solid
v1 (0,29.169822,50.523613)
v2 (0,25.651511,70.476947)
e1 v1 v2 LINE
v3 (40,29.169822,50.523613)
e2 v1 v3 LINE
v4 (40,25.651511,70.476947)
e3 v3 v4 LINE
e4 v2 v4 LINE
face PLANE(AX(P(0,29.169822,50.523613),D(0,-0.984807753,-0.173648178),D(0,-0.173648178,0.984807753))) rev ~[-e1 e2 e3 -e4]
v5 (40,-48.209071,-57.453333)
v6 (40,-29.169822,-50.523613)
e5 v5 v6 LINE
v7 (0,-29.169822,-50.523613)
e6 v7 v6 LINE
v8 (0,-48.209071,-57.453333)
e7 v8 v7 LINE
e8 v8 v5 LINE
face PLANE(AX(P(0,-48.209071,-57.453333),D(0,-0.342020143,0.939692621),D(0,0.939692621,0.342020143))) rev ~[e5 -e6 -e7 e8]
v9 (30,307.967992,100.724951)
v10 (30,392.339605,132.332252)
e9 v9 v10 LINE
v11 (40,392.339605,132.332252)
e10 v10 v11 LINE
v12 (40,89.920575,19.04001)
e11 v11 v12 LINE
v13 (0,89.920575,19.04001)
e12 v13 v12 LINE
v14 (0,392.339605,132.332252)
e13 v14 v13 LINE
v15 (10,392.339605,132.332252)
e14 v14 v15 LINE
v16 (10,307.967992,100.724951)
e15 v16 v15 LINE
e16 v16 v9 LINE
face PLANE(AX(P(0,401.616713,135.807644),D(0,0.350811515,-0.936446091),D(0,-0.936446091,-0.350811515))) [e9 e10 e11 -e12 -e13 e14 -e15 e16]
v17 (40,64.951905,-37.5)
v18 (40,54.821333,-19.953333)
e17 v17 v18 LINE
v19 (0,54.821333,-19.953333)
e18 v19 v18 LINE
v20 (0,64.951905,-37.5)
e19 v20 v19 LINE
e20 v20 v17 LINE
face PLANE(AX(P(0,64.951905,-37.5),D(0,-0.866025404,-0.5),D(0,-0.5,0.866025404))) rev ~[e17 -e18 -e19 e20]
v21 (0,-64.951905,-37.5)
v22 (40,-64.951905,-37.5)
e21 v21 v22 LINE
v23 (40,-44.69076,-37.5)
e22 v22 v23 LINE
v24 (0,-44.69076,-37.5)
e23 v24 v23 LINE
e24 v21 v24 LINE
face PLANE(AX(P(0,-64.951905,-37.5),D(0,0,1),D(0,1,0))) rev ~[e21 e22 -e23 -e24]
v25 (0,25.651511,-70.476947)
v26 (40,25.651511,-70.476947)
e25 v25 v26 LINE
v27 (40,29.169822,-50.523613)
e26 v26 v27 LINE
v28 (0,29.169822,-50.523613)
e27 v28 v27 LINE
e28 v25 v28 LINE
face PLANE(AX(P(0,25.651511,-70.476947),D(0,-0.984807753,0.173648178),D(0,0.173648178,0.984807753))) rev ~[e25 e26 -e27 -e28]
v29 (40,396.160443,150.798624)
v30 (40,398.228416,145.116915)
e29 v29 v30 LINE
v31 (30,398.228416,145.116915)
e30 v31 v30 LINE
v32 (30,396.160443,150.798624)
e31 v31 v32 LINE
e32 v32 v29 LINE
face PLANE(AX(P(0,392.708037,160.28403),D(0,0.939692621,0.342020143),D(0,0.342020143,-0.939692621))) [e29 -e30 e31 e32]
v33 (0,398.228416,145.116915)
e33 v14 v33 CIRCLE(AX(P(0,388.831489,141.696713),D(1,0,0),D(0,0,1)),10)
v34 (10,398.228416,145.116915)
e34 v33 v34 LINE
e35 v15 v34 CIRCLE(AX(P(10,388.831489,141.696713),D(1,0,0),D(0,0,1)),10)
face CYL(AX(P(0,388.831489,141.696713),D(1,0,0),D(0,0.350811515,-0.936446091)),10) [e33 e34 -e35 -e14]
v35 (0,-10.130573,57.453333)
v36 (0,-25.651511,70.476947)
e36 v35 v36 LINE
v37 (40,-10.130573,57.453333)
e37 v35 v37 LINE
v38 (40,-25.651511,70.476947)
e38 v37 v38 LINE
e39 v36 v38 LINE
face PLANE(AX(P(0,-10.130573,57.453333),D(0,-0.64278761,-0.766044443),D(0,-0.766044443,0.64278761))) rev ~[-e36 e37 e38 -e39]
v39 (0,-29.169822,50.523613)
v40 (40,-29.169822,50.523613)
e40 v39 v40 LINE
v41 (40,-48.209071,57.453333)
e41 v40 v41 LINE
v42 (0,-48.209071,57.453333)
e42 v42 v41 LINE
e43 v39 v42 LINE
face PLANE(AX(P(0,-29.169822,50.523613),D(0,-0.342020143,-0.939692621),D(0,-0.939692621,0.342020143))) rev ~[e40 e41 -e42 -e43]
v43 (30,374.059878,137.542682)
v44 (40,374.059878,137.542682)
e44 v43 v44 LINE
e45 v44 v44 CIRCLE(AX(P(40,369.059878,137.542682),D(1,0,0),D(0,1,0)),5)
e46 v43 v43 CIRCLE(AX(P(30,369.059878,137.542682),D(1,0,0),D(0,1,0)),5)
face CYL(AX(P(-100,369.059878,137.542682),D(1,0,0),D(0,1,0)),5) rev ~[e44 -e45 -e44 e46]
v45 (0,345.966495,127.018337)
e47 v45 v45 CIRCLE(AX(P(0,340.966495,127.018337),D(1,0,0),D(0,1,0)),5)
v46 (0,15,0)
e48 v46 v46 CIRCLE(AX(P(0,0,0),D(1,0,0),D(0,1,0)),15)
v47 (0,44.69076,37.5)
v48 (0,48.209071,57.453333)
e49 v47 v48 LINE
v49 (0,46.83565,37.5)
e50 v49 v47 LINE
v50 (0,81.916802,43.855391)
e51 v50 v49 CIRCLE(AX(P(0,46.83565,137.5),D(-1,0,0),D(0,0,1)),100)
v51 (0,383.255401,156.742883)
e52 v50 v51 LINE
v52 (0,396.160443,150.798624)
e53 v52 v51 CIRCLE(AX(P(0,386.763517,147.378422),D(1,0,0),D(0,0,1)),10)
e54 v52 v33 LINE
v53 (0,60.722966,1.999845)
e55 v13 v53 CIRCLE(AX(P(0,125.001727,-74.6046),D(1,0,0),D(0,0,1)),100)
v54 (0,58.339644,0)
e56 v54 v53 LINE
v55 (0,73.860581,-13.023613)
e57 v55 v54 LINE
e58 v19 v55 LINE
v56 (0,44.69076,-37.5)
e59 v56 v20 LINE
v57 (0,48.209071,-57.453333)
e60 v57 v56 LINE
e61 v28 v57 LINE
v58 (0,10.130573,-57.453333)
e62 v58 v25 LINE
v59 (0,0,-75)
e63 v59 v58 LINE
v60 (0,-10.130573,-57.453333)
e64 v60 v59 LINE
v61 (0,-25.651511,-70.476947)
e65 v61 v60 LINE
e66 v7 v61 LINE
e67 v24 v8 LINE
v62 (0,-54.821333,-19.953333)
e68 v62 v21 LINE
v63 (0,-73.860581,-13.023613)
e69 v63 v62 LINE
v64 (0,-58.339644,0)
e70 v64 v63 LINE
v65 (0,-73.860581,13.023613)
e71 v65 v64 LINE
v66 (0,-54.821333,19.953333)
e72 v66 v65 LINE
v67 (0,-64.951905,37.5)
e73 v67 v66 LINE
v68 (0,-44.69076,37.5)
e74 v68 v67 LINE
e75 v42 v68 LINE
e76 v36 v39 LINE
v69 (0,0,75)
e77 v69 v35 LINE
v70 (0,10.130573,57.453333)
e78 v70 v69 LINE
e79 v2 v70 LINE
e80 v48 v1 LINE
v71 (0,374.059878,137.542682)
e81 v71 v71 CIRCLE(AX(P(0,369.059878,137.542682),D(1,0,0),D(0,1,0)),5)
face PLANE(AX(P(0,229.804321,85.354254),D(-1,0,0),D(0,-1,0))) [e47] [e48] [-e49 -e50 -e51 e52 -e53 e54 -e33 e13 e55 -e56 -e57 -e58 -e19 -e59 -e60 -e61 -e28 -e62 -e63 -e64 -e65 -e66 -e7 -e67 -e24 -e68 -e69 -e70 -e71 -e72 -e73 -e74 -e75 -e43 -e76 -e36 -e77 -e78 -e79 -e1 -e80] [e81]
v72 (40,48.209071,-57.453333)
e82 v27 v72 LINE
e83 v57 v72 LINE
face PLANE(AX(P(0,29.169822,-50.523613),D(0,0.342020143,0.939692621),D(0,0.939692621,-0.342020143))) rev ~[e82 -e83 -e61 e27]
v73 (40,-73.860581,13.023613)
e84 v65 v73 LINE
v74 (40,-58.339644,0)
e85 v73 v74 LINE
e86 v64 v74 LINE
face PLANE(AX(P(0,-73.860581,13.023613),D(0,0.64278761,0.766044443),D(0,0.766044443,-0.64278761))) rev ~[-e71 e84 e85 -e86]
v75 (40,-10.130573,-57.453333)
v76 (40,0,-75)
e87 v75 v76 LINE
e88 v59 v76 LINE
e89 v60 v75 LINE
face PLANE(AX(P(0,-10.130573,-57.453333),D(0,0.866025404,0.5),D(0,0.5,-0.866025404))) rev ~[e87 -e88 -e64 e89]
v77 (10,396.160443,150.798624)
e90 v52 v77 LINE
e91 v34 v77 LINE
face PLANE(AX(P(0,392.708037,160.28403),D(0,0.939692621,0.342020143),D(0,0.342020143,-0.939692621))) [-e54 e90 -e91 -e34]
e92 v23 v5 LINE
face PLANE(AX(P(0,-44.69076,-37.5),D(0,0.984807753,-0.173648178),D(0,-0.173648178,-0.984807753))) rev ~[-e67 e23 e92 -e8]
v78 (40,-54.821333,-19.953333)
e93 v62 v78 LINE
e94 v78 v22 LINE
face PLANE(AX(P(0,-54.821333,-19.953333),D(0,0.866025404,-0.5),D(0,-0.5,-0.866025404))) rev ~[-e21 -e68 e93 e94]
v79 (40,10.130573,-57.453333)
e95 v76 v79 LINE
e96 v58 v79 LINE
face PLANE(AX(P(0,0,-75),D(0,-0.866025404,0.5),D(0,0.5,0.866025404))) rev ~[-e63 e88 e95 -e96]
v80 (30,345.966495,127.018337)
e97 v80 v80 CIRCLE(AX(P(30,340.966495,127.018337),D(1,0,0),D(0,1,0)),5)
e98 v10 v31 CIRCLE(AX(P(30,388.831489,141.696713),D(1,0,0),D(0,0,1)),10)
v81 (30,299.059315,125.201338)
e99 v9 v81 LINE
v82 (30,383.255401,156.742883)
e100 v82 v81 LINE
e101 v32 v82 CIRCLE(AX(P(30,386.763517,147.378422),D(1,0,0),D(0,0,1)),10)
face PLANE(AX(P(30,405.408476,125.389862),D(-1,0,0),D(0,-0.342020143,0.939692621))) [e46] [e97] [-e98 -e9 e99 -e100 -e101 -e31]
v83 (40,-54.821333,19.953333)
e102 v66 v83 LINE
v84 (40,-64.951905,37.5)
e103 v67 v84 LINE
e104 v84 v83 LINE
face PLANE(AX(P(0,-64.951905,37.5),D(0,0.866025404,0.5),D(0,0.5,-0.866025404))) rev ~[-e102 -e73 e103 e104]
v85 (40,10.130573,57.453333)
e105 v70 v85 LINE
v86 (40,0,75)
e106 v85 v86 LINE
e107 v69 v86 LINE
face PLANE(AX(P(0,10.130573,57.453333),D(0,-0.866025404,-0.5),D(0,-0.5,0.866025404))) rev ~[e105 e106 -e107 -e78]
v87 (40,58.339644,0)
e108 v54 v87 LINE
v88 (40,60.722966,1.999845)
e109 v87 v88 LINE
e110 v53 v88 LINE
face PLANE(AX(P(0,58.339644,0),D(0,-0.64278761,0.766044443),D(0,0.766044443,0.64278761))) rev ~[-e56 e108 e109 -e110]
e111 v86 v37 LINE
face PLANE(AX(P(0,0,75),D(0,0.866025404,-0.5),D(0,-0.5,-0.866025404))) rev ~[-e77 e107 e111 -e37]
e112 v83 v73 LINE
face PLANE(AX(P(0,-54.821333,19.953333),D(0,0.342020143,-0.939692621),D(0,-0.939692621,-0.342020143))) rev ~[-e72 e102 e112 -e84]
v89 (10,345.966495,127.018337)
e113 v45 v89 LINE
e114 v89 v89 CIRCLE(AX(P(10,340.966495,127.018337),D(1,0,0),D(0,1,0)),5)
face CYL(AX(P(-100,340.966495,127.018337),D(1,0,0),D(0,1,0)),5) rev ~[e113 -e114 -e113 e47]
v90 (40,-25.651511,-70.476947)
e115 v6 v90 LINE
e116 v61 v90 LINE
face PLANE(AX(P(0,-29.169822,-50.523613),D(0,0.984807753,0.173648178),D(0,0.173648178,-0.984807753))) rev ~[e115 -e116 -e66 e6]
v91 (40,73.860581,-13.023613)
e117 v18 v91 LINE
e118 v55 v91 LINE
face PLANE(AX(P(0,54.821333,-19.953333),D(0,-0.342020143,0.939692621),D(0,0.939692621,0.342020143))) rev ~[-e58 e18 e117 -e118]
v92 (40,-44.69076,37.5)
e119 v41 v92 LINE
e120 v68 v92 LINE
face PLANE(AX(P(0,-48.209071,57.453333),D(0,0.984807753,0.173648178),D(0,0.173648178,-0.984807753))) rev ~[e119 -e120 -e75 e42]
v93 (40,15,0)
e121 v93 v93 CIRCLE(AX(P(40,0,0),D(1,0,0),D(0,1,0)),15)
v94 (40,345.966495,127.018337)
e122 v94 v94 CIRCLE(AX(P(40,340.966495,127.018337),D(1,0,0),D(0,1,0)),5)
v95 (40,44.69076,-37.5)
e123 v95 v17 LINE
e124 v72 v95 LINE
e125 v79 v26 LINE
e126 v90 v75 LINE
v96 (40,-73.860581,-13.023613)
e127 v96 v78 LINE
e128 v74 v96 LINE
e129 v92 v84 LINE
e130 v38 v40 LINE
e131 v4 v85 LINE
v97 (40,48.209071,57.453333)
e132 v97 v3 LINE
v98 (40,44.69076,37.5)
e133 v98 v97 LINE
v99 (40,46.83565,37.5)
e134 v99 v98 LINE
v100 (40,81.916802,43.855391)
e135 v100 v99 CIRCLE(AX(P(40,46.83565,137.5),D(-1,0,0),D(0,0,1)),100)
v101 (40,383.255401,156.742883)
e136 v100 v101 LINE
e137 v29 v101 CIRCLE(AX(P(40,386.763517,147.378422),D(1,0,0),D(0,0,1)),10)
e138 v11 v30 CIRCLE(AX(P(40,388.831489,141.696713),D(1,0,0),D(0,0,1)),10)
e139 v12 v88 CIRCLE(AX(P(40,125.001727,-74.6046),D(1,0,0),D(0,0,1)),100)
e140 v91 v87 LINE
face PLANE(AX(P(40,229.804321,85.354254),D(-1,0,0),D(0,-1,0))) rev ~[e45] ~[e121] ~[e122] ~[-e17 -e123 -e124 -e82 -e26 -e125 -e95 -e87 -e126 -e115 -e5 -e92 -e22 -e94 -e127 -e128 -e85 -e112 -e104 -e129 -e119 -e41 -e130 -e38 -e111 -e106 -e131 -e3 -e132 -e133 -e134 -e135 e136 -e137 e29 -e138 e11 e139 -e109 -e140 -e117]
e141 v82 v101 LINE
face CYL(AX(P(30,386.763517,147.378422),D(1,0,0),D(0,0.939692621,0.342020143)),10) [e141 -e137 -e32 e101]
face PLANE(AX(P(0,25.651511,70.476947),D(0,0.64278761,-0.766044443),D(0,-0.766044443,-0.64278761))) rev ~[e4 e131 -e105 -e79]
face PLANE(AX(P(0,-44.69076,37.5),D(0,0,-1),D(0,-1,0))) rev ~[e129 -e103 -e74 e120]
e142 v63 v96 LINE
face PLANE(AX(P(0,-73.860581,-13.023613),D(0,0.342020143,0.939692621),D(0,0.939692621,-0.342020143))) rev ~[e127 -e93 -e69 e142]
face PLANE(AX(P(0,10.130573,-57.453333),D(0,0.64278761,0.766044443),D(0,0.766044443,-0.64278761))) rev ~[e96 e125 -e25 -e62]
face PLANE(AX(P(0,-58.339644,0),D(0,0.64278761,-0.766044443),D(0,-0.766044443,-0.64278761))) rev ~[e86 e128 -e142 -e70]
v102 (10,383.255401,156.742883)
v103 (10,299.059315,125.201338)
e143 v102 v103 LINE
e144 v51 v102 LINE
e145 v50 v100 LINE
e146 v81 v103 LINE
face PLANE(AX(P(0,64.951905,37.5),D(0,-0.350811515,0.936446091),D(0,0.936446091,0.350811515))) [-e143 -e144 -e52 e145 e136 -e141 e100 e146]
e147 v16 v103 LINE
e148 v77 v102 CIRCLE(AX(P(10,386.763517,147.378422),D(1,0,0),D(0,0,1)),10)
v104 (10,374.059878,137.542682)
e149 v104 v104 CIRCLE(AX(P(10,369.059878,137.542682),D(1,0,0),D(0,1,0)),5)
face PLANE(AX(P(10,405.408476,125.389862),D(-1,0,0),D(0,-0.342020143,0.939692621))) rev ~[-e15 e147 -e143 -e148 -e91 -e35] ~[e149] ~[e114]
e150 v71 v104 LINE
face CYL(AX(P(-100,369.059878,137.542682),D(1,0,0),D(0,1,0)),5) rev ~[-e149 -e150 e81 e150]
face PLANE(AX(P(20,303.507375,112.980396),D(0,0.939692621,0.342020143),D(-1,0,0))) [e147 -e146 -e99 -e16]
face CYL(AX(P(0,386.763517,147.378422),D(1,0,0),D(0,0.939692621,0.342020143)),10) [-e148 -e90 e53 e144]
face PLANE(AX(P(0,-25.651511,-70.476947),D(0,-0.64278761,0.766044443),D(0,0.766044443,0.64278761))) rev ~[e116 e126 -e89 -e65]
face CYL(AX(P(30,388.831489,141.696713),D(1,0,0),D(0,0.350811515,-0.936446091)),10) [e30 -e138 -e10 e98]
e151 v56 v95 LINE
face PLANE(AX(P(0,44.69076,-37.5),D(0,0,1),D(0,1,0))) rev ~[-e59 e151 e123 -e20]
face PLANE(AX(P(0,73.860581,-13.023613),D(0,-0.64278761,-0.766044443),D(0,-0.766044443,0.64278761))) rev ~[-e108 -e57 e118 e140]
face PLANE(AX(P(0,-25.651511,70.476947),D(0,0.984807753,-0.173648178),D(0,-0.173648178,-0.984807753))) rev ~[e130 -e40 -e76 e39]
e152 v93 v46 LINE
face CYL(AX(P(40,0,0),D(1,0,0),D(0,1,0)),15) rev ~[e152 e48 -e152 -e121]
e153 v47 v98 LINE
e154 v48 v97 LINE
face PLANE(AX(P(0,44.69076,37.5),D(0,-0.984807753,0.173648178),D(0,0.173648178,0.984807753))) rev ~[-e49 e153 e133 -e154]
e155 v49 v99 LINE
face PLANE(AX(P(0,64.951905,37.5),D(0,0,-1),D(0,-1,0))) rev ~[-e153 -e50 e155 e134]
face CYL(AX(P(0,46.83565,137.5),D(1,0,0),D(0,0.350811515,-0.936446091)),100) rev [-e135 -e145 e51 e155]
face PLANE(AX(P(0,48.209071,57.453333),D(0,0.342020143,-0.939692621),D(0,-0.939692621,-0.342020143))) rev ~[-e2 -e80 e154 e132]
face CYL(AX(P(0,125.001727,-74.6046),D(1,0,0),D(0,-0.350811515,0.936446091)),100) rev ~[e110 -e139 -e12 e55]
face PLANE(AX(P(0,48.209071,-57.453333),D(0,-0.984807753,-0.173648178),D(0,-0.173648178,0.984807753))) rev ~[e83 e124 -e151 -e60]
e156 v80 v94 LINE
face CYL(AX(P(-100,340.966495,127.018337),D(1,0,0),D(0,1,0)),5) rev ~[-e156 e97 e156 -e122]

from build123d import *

# Parameters (mm, degrees)
F0_R      = 15
F1_DEPTH  = 40
F2_R      = 15
F3_DEPTH  = 40
F5_DEPTH  = 40
F8_DEPTH  = 40
F9_R      = 100
F10_W     = 20
F10_H     = 46.3822901116
F11_DEPTH = 100
F12_R     = 10
F14_D     = 10
F14_DEPTH = 100
F14_TIP   = 3.0043030951


with BuildPart() as f1:
    # F0 (on Right) → F1 (new body)
    with BuildSketch(Plane.YZ):
        with BuildLine():
            ThreePointArc((36.930290586, -6.5118075241), (37.3573011403, -3.2683407888), (37.5, 0))
            ThreePointArc((37.5, 0), (37.3573011695, 3.2683404555), (36.9302907022, 6.5118068652))
            ThreePointArc((36.9302907022, 6.5118068652), (35.2384733576, 12.8257551601), (32.4759529732, 18.7499994261))
            ThreePointArc((32.4759529732, 18.7499994261), (28.7266668337, 24.104535105), (24.1045353722, 28.7266666095))
            ThreePointArc((24.1045353722, 28.7266666095), (18.7500010733, 32.4759520223), (12.8257576929, 35.2384724357))
            ThreePointArc((12.8257576929, 35.2384724357), (6.5118078361, 36.930290531), (-8.36e-08, 37.5))
            ThreePointArc((-8.36e-08, 37.5), (-6.5118082765, 36.9302904534), (-12.8257583762, 35.238472187))
            ThreePointArc((-12.8257583762, 35.238472187), (-18.750001471, 32.4759517926), (-24.1045355188, 28.7266664865))
            ThreePointArc((-24.1045355188, 28.7266664865), (-28.7266663856, 24.1045356389), (-32.4759521805, 18.7500007991))
            ThreePointArc((-32.4759521805, 18.7500007991), (-35.2384728502, 12.825756554), (-36.9302904623, 6.5118082256))
            ThreePointArc((-36.9302904623, 6.5118082256), (-37.5, 9.85e-07), (-36.9302908044, -6.5118062856))
            ThreePointArc((-36.9302908044, -6.5118062856), (-35.2384734144, -12.8257550039), (-32.4759528451, -18.749999648))
            ThreePointArc((-32.4759528451, -18.749999648), (-28.7266670967, -24.1045347915), (-24.1045361954, -28.7266659187))
            ThreePointArc((-24.1045361954, -28.7266659187), (-18.7500019131, -32.4759515374), (-12.8257585056, -35.2384721399))
            ThreePointArc((-12.8257585056, -35.2384721399), (-6.5118083601, -36.9302904386), (-1.157e-07, -37.5))
            ThreePointArc((-1.157e-07, -37.5), (6.5118084282, -36.9302904266), (12.8257588531, -35.2384720135))
            ThreePointArc((12.8257588531, -35.2384720135), (18.7500017771, -32.4759516159), (24.1045356715, -28.7266663583))
            ThreePointArc((24.1045356715, -28.7266663583), (28.7266671728, -24.1045347008), (32.4759533055, -18.7499988506))
            ThreePointArc((32.4759533055, -18.7499988506), (35.2384733568, -12.8257551622), (36.930290586, -6.5118075241))
        make_face()
        Circle(F0_R, mode=Mode.SUBTRACT)
        Circle(F0_R)
        Polygon((-54.8213325031, 19.9533332339), (-42.3943453068, 24.476386675), (-44.6907597223, 37.5), (-64.9519052838, 37.5), align=None)
        Polygon((-44.6907597223, 37.5), (-31.4662361691, 37.5), (-29.1698217536, 50.523613325), (-48.2090707265, 57.4533332339), align=None)
        Polygon((29.1698217536, 50.523613325), (31.4662361691, 37.5), (44.6907597223, 37.5), (48.2090707265, 57.4533332339), align=None)
        Polygon((44.6907597223, 37.5), (42.3943453068, 24.476386675), (54.8213325031, 19.9533332339), (64.9519052838, 37.5), align=None)
        Polygon((54.8213325031, 19.9533332339), (48.2090707265, 8.500559884), (58.3396435073, 0), (73.8605814759, 13.023613325), align=None)
        Polygon((29.1698217536, -50.523613325), (16.7428345573, -46.000559884), (10.1305727808, -57.4533332339), (25.6515107494, -70.4769465589), align=None)
        Polygon((10.1305727808, -57.4533332339), (0, -48.95277335), (-10.1305727808, -57.4533332339), (0, -75), align=None)
        Polygon((-10.1305727808, -57.4533332339), (-16.7428345573, -46.000559884), (-29.1698217536, -50.523613325), (-25.6515107494, -70.4769465589), align=None)
        Polygon((-58.3396435073, 0), (-48.2090707265, 8.500559884), (-54.8213325031, 19.9533332339), (-73.8605814759, 13.023613325), align=None)
        Polygon((-29.1698217536, 50.523613325), (-16.7428345573, 46.000559884), (-10.1305727808, 57.4533332339), (-25.6515107494, 70.4769465589), align=None)
        Polygon((-10.1305727808, 57.4533332339), (0, 48.95277335), (10.1305727808, 57.4533332339), (0, 75), align=None)
        Polygon((58.3396435073, 0), (48.2090707265, -8.500559884), (54.8213325031, -19.9533332339), (73.8605814759, -13.023613325), align=None)
        Polygon((54.8213325031, -19.9533332339), (42.3943453068, -24.476386675), (44.6907597223, -37.5), (64.9519052838, -37.5), align=None)
        Polygon((-29.1698217536, -50.523613325), (-31.4662361691, -37.5), (-44.6907597223, -37.5), (-48.2090707265, -57.4533332339), align=None)
        Polygon((-44.6907597223, -37.5), (-42.3943453068, -24.476386675), (-54.8213325031, -19.9533332339), (-64.9519052838, -37.5), align=None)
        Polygon((44.6907597223, -37.5), (31.4662361691, -37.5), (29.1698217536, -50.523613325), (48.2090707265, -57.4533332339), align=None)
        Polygon((-54.8213325031, -19.9533332339), (-48.2090707265, -8.500559884), (-58.3396435073, 0), (-73.8605814759, -13.023613325), align=None)
        Polygon((10.1305727808, 57.4533332339), (16.7428345573, 46.000559884), (29.1698217536, 50.523613325), (25.6515107494, 70.4769465589), align=None)
        Polygon((-42.3943453068, 24.476386675), (-33.1706974084, 27.8335199613), (-31.4662361691, 37.5), (-44.6907597223, 37.5), align=None)
        Polygon((-31.4662361691, 37.5), (-21.6506350946, 37.5), (-16.7428345573, 46.000559884), (-29.1698217536, 50.523613325), align=None)
        Polygon((16.7428345573, 46.000559884), (21.6506350946, 37.5), (31.4662361691, 37.5), (29.1698217536, 50.523613325), align=None)
        Polygon((31.4662361691, 37.5), (33.1706974084, 27.8335199613), (42.3943453068, 24.476386675), (44.6907597223, 37.5), align=None)
        Polygon((42.3943453068, 24.476386675), (40.6898840675, 14.8099066363), (48.2090707265, 8.500559884), (54.8213325031, 19.9533332339), align=None)
        Polygon((48.2090707265, 8.500559884), (43.3012701892, 0), (48.2090707265, -8.500559884), (58.3396435073, 0), align=None)
        Polygon((31.4662361691, -37.5), (21.6506350946, -37.5), (16.7428345573, -46.000559884), (29.1698217536, -50.523613325), align=None)
        Polygon((16.7428345573, -46.000559884), (7.519186659, -42.6434265976), (0, -48.95277335), (10.1305727808, -57.4533332339), align=None)
        Polygon((0, -48.95277335), (-7.519186659, -42.6434265976), (-16.7428345573, -46.000559884), (-10.1305727808, -57.4533332339), align=None)
        Polygon((-16.7428345573, -46.000559884), (-21.6506350946, -37.5), (-31.4662361691, -37.5), (-29.1698217536, -50.523613325), align=None)
        Polygon((-48.2090707265, -8.500559884), (-43.3012701892, 0), (-48.2090707265, 8.500559884), (-58.3396435073, 0), align=None)
        Polygon((-48.2090707265, 8.500559884), (-40.6898840675, 14.8099066363), (-42.3943453068, 24.476386675), (-54.8213325031, 19.9533332339), align=None)
        Polygon((-16.7428345573, 46.000559884), (-7.519186659, 42.6434265976), (0, 48.95277335), (-10.1305727808, 57.4533332339), align=None)
        Polygon((0, 48.95277335), (7.519186659, 42.6434265976), (16.7428345573, 46.000559884), (10.1305727808, 57.4533332339), align=None)
        Polygon((48.2090707265, -8.500559884), (40.6898840675, -14.8099066363), (42.3943453068, -24.476386675), (54.8213325031, -19.9533332339), align=None)
        Polygon((42.3943453068, -24.476386675), (33.1706974084, -27.8335199613), (31.4662361691, -37.5), (44.6907597223, -37.5), align=None)
        Polygon((-31.4662361691, -37.5), (-33.1706974084, -27.8335199613), (-42.3943453068, -24.476386675), (-44.6907597223, -37.5), align=None)
        Polygon((-42.3943453068, -24.476386675), (-40.6898840675, -14.8099066363), (-48.2090707265, -8.500559884), (-54.8213325031, -19.9533332339), align=None)
        Polygon((-40.6898840675, 14.8099066363), (-34.5601869415, 19.9533332339), (-33.1706974084, 27.8335199613), (-42.3943453068, 24.476386675), align=None)
        Polygon((-7.519186659, -42.6434265976), (-13.648883785, -37.5), (-21.6506350946, -37.5), (-16.7428345573, -46.000559884), align=None)
        Polygon((43.3012701892, 0), (39.3003945344, -6.9297199089), (40.6898840675, -14.8099066363), (48.2090707265, -8.500559884), align=None)
        Polygon((-33.1706974084, 27.8335199613), (-25.6515107494, 30.5702800911), (-21.6506350946, 37.5), (-31.4662361691, 37.5), align=None)
        Polygon((40.6898840675, -14.8099066363), (34.5601869415, -19.9533332339), (33.1706974084, -27.8335199613), (42.3943453068, -24.476386675), align=None)
        Polygon((-21.6506350946, 37.5), (-13.648883785, 37.5), (-7.519186659, 42.6434265976), (-16.7428345573, 46.000559884), align=None)
        Polygon((33.1706974084, 27.8335199613), (34.5601869415, 19.9533332339), (40.6898840675, 14.8099066363), (42.3943453068, 24.476386675), align=None)
        Polygon((-33.1706974084, -27.8335199613), (-34.5601869415, -19.9533332339), (-40.6898840675, -14.8099066363), (-42.3943453068, -24.476386675), align=None)
        Polygon((21.6506350946, 37.5), (25.6515107494, 30.5702800911), (33.1706974084, 27.8335199613), (31.4662361691, 37.5), align=None)
        Polygon((7.519186659, 42.6434265976), (13.648883785, 37.5), (21.6506350946, 37.5), (16.7428345573, 46.000559884), align=None)
        Polygon((40.6898840675, 14.8099066363), (39.3003945344, 6.9297199089), (43.3012701892, 0), (48.2090707265, 8.500559884), align=None)
        Polygon((-21.6506350946, -37.5), (-25.6515107494, -30.5702800911), (-33.1706974084, -27.8335199613), (-31.4662361691, -37.5), align=None)
        Polygon((7.519186659, -42.6434265976), (0, -39.9066664678), (-7.519186659, -42.6434265976), (0, -48.95277335), align=None)
        Polygon((-7.519186659, 42.6434265976), (0, 39.9066664678), (7.519186659, 42.6434265976), (0, 48.95277335), align=None)
        Polygon((33.1706974084, -27.8335199613), (25.6515107494, -30.5702800911), (21.6506350946, -37.5), (31.4662361691, -37.5), align=None)
        Polygon((-40.6898840675, -14.8099066363), (-39.3003945344, -6.9297199089), (-43.3012701892, 0), (-48.2090707265, -8.500559884), align=None)
        Polygon((21.6506350946, -37.5), (13.648883785, -37.5), (7.519186659, -42.6434265976), (16.7428345573, -46.000559884), align=None)
        Polygon((-43.3012701892, 0), (-39.3003945344, 6.9297199089), (-40.6898840675, 14.8099066363), (-48.2090707265, 8.500559884), align=None)
        Polygon((0, 39.9066664678), (6.6122617766, 37.5), (13.648883785, 37.5), (7.519186659, 42.6434265976), align=None)
        Polygon((34.5601869415, 19.9533332339), (35.7820835302, 13.023613325), (39.3003945344, 6.9297199089), (40.6898840675, 14.8099066363), align=None)
        Polygon((0, -39.9066664678), (-6.6122617766, -37.5), (-13.648883785, -37.5), (-7.519186659, -42.6434265976), align=None)
        Polygon((39.3003945344, -6.9297199089), (35.7820835302, -13.023613325), (34.5601869415, -19.9533332339), (40.6898840675, -14.8099066363), align=None)
        Polygon((-39.3003945344, -6.9297199089), (-38.0784979457, 0), (-39.3003945344, 6.9297199089), (-43.3012701892, 0), align=None)
        Polygon((-34.5601869415, -19.9533332339), (-35.7820835302, -13.023613325), (-39.3003945344, -6.9297199089), (-40.6898840675, -14.8099066363), align=None)
        Polygon((-13.648883785, -37.5), (-19.0392489729, -32.9769465589), (-25.6515107494, -30.5702800911), (-21.6506350946, -37.5), align=None)
        Polygon((34.5601869415, -19.9533332339), (29.1698217536, -24.476386675), (25.6515107494, -30.5702800911), (33.1706974084, -27.8335199613), align=None)
        Polygon((-34.5601869415, 19.9533332339), (-29.1698217536, 24.476386675), (-25.6515107494, 30.5702800911), (-33.1706974084, 27.8335199613), align=None)
        Polygon((-25.6515107494, 30.5702800911), (-19.0392489729, 32.9769465589), (-13.648883785, 37.5), (-21.6506350946, 37.5), align=None)
        Polygon((-39.3003945344, 6.9297199089), (-35.7820835302, 13.023613325), (-34.5601869415, 19.9533332339), (-40.6898840675, 14.8099066363), align=None)
        Polygon((25.6515107494, 30.5702800911), (29.1698217536, 24.476386675), (34.5601869415, 19.9533332339), (33.1706974084, 27.8335199613), align=None)
        Polygon((-25.6515107494, -30.5702800911), (-29.1698217536, -24.476386675), (-34.5601869415, -19.9533332339), (-33.1706974084, -27.8335199613), align=None)
        Polygon((25.6515107494, -30.5702800911), (19.0392489729, -32.9769465589), (13.648883785, -37.5), (21.6506350946, -37.5), align=None)
        Polygon((-13.648883785, 37.5), (-6.6122617766, 37.5), (0, 39.9066664678), (-7.519186659, 42.6434265976), align=None)
        Polygon((13.648883785, -37.5), (6.6122617766, -37.5), (0, -39.9066664678), (7.519186659, -42.6434265976), align=None)
        Polygon((39.3003945344, 6.9297199089), (38.0784979457, 0), (39.3003945344, -6.9297199089), (43.3012701892, 0), align=None)
        Polygon((13.648883785, 37.5), (19.0392489729, 32.9769465589), (25.6515107494, 30.5702800911), (21.6506350946, 37.5), align=None)
        Polygon((35.7820835302, -13.023613325), (32.4759533055, -18.7499988506), (29.1698217536, -24.476386675), (34.5601869415, -19.9533332339), align=None)
        Polygon((29.1698217536, -24.476386675), (24.1045356715, -28.7266663583), (19.0392489729, -32.9769465589), (25.6515107494, -30.5702800911), align=None)
        Polygon((-29.1698217536, -24.476386675), (-32.4759528451, -18.749999648), (-35.7820835302, -13.023613325), (-34.5601869415, -19.9533332339), align=None)
        Polygon((-6.6122617766, -37.5), (-12.8257585056, -35.2384721399), (-19.0392489729, -32.9769465589), (-13.648883785, -37.5), align=None)
        Polygon((-35.7820835302, 13.023613325), (-32.4759521805, 18.7500007991), (-29.1698217536, 24.476386675), (-34.5601869415, 19.9533332339), align=None)
        Polygon((38.0784979457, 0), (36.930290586, -6.5118075241), (35.7820835302, -13.023613325), (39.3003945344, -6.9297199089), align=None)
        Polygon((29.1698217536, 24.476386675), (32.4759529732, 18.7499994261), (35.7820835302, 13.023613325), (34.5601869415, 19.9533332339), align=None)
        Polygon((-19.0392489729, 32.9769465589), (-12.8257583762, 35.238472187), (-6.6122617766, 37.5), (-13.648883785, 37.5), align=None)
        Polygon((6.6122617766, 37.5), (12.8257576929, 35.2384724357), (19.0392489729, 32.9769465589), (13.648883785, 37.5), align=None)
        Polygon((-38.0784979457, 0), (-36.9302904623, 6.5118082256), (-35.7820835302, 13.023613325), (-39.3003945344, 6.9297199089), align=None)
        Polygon((-29.1698217536, 24.476386675), (-24.1045355188, 28.7266664865), (-19.0392489729, 32.9769465589), (-25.6515107494, 30.5702800911), align=None)
        Polygon((-19.0392489729, -32.9769465589), (-24.1045361954, -28.7266659187), (-29.1698217536, -24.476386675), (-25.6515107494, -30.5702800911), align=None)
        Polygon((35.7820835302, 13.023613325), (36.9302907022, 6.5118068652), (38.0784979457, 0), (39.3003945344, 6.9297199089), align=None)
        Polygon((-35.7820835302, -13.023613325), (-36.9302908044, -6.5118062856), (-38.0784979457, 0), (-39.3003945344, -6.9297199089), align=None)
        Polygon((19.0392489729, -32.9769465589), (12.8257588531, -35.2384720135), (6.6122617766, -37.5), (13.648883785, -37.5), align=None)
        Polygon((19.0392489729, 32.9769465589), (24.1045353722, 28.7266666095), (29.1698217536, 24.476386675), (25.6515107494, 30.5702800911), align=None)
        Polygon((-6.6122617766, 37.5), (-8.36e-08, 37.5), (6.6122617766, 37.5), (0, 39.9066664678), align=None)
        Polygon((6.6122617766, -37.5), (-1.157e-07, -37.5), (-6.6122617766, -37.5), (0, -39.9066664678), align=None)
        with BuildLine():
            ThreePointArc((36.9302907022, 6.5118068652), (37.3573011695, 3.2683404555), (37.5, 0))
            ThreePointArc((37.5, 0), (37.3573011403, -3.2683407888), (36.930290586, -6.5118075241))
            Line((36.930290586, -6.5118075241), (38.0784979457, 0))
            Line((38.0784979457, 0), (36.9302907022, 6.5118068652))
        make_face()
        with BuildLine():
            Line((35.7820835302, -13.023613325), (36.930290586, -6.5118075241))
            ThreePointArc((36.930290586, -6.5118075241), (35.2384733568, -12.8257551622), (32.4759533055, -18.7499988506))
            Line((32.4759533055, -18.7499988506), (35.7820835302, -13.023613325))
        make_face()
        with BuildLine():
            ThreePointArc((-12.8257583762, 35.238472187), (-6.5118082765, 36.9302904534), (-8.36e-08, 37.5))
            Line((-8.36e-08, 37.5), (-6.6122617766, 37.5))
            Line((-6.6122617766, 37.5), (-12.8257583762, 35.238472187))
        make_face()
        with BuildLine():
            ThreePointArc((24.1045353722, 28.7266666095), (28.7266668337, 24.104535105), (32.4759529732, 18.7499994261))
            Line((32.4759529732, 18.7499994261), (29.1698217536, 24.476386675))
            Line((29.1698217536, 24.476386675), (24.1045353722, 28.7266666095))
        make_face()
        with BuildLine():
            ThreePointArc((-36.9302908044, -6.5118062856), (-37.5, 9.85e-07), (-36.9302904623, 6.5118082256))
            Line((-36.9302904623, 6.5118082256), (-38.0784979457, 0))
            Line((-38.0784979457, 0), (-36.9302908044, -6.5118062856))
        make_face()
        with BuildLine():
            Line((-19.0392489729, -32.9769465589), (-12.8257585056, -35.2384721399))
            ThreePointArc((-12.8257585056, -35.2384721399), (-18.7500019131, -32.4759515374), (-24.1045361954, -28.7266659187))
            Line((-24.1045361954, -28.7266659187), (-19.0392489729, -32.9769465589))
        make_face()
        with BuildLine():
            ThreePointArc((-36.9302904623, 6.5118082256), (-35.2384728502, 12.825756554), (-32.4759521805, 18.7500007991))
            Line((-32.4759521805, 18.7500007991), (-35.7820835302, 13.023613325))
            Line((-35.7820835302, 13.023613325), (-36.9302904623, 6.5118082256))
        make_face()
        with BuildLine():
            ThreePointArc((-8.36e-08, 37.5), (6.5118078361, 36.930290531), (12.8257576929, 35.2384724357))
            Line((12.8257576929, 35.2384724357), (6.6122617766, 37.5))
            Line((6.6122617766, 37.5), (-8.36e-08, 37.5))
        make_face()
        with BuildLine():
            Line((-6.6122617766, -37.5), (-1.157e-07, -37.5))
            ThreePointArc((-1.157e-07, -37.5), (-6.5118083601, -36.9302904386), (-12.8257585056, -35.2384721399))
            Line((-12.8257585056, -35.2384721399), (-6.6122617766, -37.5))
        make_face()
        with BuildLine():
            Line((19.0392489729, -32.9769465589), (24.1045356715, -28.7266663583))
            ThreePointArc((24.1045356715, -28.7266663583), (18.7500017771, -32.4759516159), (12.8257588531, -35.2384720135))
            Line((12.8257588531, -35.2384720135), (19.0392489729, -32.9769465589))
        make_face()
        with BuildLine():
            ThreePointArc((-32.4759521805, 18.7500007991), (-28.7266663856, 24.1045356389), (-24.1045355188, 28.7266664865))
            Line((-24.1045355188, 28.7266664865), (-29.1698217536, 24.476386675))
            Line((-29.1698217536, 24.476386675), (-32.4759521805, 18.7500007991))
        make_face()
        with BuildLine():
            Line((-29.1698217536, -24.476386675), (-24.1045361954, -28.7266659187))
            ThreePointArc((-24.1045361954, -28.7266659187), (-28.7266670967, -24.1045347915), (-32.4759528451, -18.749999648))
            Line((-32.4759528451, -18.749999648), (-29.1698217536, -24.476386675))
        make_face()
        with BuildLine():
            ThreePointArc((32.4759529732, 18.7499994261), (35.2384733576, 12.8257551601), (36.9302907022, 6.5118068652))
            Line((36.9302907022, 6.5118068652), (35.7820835302, 13.023613325))
            Line((35.7820835302, 13.023613325), (32.4759529732, 18.7499994261))
        make_face()
        with BuildLine():
            Line((-35.7820835302, -13.023613325), (-32.4759528451, -18.749999648))
            ThreePointArc((-32.4759528451, -18.749999648), (-35.2384734144, -12.8257550039), (-36.9302908044, -6.5118062856))
            Line((-36.9302908044, -6.5118062856), (-35.7820835302, -13.023613325))
        make_face()
        with BuildLine():
            Line((29.1698217536, -24.476386675), (32.4759533055, -18.7499988506))
            ThreePointArc((32.4759533055, -18.7499988506), (28.7266671728, -24.1045347008), (24.1045356715, -28.7266663583))
            Line((24.1045356715, -28.7266663583), (29.1698217536, -24.476386675))
        make_face()
        with BuildLine():
            Line((6.6122617766, -37.5), (12.8257588531, -35.2384720135))
            ThreePointArc((12.8257588531, -35.2384720135), (6.5118084282, -36.9302904266), (-1.157e-07, -37.5))
            Line((-1.157e-07, -37.5), (6.6122617766, -37.5))
        make_face()
        with BuildLine():
            ThreePointArc((12.8257576929, 35.2384724357), (18.7500010733, 32.4759520223), (24.1045353722, 28.7266666095))
            Line((24.1045353722, 28.7266666095), (19.0392489729, 32.9769465589))
            Line((19.0392489729, 32.9769465589), (12.8257576929, 35.2384724357))
        make_face()
        with BuildLine():
            ThreePointArc((-24.1045355188, 28.7266664865), (-18.750001471, 32.4759517926), (-12.8257583762, 35.238472187))
            Line((-12.8257583762, 35.238472187), (-19.0392489729, 32.9769465589))
            Line((-19.0392489729, 32.9769465589), (-24.1045355188, 28.7266664865))
        make_face()
    extrude(amount=F1_DEPTH)

    # F2 (on face) → F3 (cut)
    with BuildSketch(Plane.YZ.offset(40)):
        Circle(F2_R)
    extrude(amount=-F3_DEPTH, mode=Mode.SUBTRACT)

    # F7 (on face) → F8 (join)
    with BuildSketch(Plane(origin=(0, 0, 0), x_dir=(0, -1, 0), z_dir=(-1, 0, 0))):
        Polygon((-401.6167132327, 135.8076436214), (-73.8605814759, 13.023613325), (-54.8213325031, 19.9533332339), (-64.9519052838, 37.5), (-392.7080370406, 160.2840302964), align=None)
    extrude(amount=-F8_DEPTH)

    # F9
    f9_edges = [f1.edges().sort_by_distance(p)[0] for p in [
        (20, 64.951905, 37.5),
        (20, 73.860581, 13.023613),
    ]]
    fillet(f9_edges, radius=F9_R)

    # F10 (on face) → F11 (cut)
    with BuildSketch(Plane(origin=(0, 398.2842176444, 144.9636000006), x_dir=(-1, 0, 0), z_dir=(0, 0.9396926208, 0.3420201433))):
        with Locations((-20, 2.3612082005)):
            Rectangle(F10_W, F10_H)
    extrude(amount=-F11_DEPTH, mode=Mode.SUBTRACT)

    # F12
    f12_edges = [f1.edges().sort_by_distance(p)[0] for p in [
        (5, 401.616713, 135.807644),
        (35, 401.616713, 135.807644),
        (35, 392.708037, 160.28403),
        (5, 392.708037, 160.28403),
    ]]
    fillet(f12_edges, radius=F12_R)

    # F14
    with Locations(Plane(origin=(0, 0, 0), x_dir=(0, -1, 0), z_dir=(-1, 0, 0))):
        with Locations((-369.0598776945, 137.5426821066), (-340.9664949725, 127.0183366527)):
            Hole(F14_D / 2, depth=F14_DEPTH)
            with Locations((0, 0, -(F14_DEPTH + F14_TIP / 2))):  # 118° drill point
                Cone(0, F14_D / 2, F14_TIP, mode=Mode.SUBTRACT)


with BuildPart() as f5:
    # F4 (on face) → F5 (new body)
    with BuildSketch(Plane(origin=(0, 0, 0), x_dir=(0, -1, 0), z_dir=(-1, 0, 0))):
        Polygon((-89.1483277082, 42.2865301371), (-54.8213325031, 19.9533332339), (-64.9519052838, 37.5), (-44.6907597223, 37.5), (-77.9467773267, 59.5037502201), align=None)
    extrude(amount=-F5_DEPTH)


solid = f1.part
